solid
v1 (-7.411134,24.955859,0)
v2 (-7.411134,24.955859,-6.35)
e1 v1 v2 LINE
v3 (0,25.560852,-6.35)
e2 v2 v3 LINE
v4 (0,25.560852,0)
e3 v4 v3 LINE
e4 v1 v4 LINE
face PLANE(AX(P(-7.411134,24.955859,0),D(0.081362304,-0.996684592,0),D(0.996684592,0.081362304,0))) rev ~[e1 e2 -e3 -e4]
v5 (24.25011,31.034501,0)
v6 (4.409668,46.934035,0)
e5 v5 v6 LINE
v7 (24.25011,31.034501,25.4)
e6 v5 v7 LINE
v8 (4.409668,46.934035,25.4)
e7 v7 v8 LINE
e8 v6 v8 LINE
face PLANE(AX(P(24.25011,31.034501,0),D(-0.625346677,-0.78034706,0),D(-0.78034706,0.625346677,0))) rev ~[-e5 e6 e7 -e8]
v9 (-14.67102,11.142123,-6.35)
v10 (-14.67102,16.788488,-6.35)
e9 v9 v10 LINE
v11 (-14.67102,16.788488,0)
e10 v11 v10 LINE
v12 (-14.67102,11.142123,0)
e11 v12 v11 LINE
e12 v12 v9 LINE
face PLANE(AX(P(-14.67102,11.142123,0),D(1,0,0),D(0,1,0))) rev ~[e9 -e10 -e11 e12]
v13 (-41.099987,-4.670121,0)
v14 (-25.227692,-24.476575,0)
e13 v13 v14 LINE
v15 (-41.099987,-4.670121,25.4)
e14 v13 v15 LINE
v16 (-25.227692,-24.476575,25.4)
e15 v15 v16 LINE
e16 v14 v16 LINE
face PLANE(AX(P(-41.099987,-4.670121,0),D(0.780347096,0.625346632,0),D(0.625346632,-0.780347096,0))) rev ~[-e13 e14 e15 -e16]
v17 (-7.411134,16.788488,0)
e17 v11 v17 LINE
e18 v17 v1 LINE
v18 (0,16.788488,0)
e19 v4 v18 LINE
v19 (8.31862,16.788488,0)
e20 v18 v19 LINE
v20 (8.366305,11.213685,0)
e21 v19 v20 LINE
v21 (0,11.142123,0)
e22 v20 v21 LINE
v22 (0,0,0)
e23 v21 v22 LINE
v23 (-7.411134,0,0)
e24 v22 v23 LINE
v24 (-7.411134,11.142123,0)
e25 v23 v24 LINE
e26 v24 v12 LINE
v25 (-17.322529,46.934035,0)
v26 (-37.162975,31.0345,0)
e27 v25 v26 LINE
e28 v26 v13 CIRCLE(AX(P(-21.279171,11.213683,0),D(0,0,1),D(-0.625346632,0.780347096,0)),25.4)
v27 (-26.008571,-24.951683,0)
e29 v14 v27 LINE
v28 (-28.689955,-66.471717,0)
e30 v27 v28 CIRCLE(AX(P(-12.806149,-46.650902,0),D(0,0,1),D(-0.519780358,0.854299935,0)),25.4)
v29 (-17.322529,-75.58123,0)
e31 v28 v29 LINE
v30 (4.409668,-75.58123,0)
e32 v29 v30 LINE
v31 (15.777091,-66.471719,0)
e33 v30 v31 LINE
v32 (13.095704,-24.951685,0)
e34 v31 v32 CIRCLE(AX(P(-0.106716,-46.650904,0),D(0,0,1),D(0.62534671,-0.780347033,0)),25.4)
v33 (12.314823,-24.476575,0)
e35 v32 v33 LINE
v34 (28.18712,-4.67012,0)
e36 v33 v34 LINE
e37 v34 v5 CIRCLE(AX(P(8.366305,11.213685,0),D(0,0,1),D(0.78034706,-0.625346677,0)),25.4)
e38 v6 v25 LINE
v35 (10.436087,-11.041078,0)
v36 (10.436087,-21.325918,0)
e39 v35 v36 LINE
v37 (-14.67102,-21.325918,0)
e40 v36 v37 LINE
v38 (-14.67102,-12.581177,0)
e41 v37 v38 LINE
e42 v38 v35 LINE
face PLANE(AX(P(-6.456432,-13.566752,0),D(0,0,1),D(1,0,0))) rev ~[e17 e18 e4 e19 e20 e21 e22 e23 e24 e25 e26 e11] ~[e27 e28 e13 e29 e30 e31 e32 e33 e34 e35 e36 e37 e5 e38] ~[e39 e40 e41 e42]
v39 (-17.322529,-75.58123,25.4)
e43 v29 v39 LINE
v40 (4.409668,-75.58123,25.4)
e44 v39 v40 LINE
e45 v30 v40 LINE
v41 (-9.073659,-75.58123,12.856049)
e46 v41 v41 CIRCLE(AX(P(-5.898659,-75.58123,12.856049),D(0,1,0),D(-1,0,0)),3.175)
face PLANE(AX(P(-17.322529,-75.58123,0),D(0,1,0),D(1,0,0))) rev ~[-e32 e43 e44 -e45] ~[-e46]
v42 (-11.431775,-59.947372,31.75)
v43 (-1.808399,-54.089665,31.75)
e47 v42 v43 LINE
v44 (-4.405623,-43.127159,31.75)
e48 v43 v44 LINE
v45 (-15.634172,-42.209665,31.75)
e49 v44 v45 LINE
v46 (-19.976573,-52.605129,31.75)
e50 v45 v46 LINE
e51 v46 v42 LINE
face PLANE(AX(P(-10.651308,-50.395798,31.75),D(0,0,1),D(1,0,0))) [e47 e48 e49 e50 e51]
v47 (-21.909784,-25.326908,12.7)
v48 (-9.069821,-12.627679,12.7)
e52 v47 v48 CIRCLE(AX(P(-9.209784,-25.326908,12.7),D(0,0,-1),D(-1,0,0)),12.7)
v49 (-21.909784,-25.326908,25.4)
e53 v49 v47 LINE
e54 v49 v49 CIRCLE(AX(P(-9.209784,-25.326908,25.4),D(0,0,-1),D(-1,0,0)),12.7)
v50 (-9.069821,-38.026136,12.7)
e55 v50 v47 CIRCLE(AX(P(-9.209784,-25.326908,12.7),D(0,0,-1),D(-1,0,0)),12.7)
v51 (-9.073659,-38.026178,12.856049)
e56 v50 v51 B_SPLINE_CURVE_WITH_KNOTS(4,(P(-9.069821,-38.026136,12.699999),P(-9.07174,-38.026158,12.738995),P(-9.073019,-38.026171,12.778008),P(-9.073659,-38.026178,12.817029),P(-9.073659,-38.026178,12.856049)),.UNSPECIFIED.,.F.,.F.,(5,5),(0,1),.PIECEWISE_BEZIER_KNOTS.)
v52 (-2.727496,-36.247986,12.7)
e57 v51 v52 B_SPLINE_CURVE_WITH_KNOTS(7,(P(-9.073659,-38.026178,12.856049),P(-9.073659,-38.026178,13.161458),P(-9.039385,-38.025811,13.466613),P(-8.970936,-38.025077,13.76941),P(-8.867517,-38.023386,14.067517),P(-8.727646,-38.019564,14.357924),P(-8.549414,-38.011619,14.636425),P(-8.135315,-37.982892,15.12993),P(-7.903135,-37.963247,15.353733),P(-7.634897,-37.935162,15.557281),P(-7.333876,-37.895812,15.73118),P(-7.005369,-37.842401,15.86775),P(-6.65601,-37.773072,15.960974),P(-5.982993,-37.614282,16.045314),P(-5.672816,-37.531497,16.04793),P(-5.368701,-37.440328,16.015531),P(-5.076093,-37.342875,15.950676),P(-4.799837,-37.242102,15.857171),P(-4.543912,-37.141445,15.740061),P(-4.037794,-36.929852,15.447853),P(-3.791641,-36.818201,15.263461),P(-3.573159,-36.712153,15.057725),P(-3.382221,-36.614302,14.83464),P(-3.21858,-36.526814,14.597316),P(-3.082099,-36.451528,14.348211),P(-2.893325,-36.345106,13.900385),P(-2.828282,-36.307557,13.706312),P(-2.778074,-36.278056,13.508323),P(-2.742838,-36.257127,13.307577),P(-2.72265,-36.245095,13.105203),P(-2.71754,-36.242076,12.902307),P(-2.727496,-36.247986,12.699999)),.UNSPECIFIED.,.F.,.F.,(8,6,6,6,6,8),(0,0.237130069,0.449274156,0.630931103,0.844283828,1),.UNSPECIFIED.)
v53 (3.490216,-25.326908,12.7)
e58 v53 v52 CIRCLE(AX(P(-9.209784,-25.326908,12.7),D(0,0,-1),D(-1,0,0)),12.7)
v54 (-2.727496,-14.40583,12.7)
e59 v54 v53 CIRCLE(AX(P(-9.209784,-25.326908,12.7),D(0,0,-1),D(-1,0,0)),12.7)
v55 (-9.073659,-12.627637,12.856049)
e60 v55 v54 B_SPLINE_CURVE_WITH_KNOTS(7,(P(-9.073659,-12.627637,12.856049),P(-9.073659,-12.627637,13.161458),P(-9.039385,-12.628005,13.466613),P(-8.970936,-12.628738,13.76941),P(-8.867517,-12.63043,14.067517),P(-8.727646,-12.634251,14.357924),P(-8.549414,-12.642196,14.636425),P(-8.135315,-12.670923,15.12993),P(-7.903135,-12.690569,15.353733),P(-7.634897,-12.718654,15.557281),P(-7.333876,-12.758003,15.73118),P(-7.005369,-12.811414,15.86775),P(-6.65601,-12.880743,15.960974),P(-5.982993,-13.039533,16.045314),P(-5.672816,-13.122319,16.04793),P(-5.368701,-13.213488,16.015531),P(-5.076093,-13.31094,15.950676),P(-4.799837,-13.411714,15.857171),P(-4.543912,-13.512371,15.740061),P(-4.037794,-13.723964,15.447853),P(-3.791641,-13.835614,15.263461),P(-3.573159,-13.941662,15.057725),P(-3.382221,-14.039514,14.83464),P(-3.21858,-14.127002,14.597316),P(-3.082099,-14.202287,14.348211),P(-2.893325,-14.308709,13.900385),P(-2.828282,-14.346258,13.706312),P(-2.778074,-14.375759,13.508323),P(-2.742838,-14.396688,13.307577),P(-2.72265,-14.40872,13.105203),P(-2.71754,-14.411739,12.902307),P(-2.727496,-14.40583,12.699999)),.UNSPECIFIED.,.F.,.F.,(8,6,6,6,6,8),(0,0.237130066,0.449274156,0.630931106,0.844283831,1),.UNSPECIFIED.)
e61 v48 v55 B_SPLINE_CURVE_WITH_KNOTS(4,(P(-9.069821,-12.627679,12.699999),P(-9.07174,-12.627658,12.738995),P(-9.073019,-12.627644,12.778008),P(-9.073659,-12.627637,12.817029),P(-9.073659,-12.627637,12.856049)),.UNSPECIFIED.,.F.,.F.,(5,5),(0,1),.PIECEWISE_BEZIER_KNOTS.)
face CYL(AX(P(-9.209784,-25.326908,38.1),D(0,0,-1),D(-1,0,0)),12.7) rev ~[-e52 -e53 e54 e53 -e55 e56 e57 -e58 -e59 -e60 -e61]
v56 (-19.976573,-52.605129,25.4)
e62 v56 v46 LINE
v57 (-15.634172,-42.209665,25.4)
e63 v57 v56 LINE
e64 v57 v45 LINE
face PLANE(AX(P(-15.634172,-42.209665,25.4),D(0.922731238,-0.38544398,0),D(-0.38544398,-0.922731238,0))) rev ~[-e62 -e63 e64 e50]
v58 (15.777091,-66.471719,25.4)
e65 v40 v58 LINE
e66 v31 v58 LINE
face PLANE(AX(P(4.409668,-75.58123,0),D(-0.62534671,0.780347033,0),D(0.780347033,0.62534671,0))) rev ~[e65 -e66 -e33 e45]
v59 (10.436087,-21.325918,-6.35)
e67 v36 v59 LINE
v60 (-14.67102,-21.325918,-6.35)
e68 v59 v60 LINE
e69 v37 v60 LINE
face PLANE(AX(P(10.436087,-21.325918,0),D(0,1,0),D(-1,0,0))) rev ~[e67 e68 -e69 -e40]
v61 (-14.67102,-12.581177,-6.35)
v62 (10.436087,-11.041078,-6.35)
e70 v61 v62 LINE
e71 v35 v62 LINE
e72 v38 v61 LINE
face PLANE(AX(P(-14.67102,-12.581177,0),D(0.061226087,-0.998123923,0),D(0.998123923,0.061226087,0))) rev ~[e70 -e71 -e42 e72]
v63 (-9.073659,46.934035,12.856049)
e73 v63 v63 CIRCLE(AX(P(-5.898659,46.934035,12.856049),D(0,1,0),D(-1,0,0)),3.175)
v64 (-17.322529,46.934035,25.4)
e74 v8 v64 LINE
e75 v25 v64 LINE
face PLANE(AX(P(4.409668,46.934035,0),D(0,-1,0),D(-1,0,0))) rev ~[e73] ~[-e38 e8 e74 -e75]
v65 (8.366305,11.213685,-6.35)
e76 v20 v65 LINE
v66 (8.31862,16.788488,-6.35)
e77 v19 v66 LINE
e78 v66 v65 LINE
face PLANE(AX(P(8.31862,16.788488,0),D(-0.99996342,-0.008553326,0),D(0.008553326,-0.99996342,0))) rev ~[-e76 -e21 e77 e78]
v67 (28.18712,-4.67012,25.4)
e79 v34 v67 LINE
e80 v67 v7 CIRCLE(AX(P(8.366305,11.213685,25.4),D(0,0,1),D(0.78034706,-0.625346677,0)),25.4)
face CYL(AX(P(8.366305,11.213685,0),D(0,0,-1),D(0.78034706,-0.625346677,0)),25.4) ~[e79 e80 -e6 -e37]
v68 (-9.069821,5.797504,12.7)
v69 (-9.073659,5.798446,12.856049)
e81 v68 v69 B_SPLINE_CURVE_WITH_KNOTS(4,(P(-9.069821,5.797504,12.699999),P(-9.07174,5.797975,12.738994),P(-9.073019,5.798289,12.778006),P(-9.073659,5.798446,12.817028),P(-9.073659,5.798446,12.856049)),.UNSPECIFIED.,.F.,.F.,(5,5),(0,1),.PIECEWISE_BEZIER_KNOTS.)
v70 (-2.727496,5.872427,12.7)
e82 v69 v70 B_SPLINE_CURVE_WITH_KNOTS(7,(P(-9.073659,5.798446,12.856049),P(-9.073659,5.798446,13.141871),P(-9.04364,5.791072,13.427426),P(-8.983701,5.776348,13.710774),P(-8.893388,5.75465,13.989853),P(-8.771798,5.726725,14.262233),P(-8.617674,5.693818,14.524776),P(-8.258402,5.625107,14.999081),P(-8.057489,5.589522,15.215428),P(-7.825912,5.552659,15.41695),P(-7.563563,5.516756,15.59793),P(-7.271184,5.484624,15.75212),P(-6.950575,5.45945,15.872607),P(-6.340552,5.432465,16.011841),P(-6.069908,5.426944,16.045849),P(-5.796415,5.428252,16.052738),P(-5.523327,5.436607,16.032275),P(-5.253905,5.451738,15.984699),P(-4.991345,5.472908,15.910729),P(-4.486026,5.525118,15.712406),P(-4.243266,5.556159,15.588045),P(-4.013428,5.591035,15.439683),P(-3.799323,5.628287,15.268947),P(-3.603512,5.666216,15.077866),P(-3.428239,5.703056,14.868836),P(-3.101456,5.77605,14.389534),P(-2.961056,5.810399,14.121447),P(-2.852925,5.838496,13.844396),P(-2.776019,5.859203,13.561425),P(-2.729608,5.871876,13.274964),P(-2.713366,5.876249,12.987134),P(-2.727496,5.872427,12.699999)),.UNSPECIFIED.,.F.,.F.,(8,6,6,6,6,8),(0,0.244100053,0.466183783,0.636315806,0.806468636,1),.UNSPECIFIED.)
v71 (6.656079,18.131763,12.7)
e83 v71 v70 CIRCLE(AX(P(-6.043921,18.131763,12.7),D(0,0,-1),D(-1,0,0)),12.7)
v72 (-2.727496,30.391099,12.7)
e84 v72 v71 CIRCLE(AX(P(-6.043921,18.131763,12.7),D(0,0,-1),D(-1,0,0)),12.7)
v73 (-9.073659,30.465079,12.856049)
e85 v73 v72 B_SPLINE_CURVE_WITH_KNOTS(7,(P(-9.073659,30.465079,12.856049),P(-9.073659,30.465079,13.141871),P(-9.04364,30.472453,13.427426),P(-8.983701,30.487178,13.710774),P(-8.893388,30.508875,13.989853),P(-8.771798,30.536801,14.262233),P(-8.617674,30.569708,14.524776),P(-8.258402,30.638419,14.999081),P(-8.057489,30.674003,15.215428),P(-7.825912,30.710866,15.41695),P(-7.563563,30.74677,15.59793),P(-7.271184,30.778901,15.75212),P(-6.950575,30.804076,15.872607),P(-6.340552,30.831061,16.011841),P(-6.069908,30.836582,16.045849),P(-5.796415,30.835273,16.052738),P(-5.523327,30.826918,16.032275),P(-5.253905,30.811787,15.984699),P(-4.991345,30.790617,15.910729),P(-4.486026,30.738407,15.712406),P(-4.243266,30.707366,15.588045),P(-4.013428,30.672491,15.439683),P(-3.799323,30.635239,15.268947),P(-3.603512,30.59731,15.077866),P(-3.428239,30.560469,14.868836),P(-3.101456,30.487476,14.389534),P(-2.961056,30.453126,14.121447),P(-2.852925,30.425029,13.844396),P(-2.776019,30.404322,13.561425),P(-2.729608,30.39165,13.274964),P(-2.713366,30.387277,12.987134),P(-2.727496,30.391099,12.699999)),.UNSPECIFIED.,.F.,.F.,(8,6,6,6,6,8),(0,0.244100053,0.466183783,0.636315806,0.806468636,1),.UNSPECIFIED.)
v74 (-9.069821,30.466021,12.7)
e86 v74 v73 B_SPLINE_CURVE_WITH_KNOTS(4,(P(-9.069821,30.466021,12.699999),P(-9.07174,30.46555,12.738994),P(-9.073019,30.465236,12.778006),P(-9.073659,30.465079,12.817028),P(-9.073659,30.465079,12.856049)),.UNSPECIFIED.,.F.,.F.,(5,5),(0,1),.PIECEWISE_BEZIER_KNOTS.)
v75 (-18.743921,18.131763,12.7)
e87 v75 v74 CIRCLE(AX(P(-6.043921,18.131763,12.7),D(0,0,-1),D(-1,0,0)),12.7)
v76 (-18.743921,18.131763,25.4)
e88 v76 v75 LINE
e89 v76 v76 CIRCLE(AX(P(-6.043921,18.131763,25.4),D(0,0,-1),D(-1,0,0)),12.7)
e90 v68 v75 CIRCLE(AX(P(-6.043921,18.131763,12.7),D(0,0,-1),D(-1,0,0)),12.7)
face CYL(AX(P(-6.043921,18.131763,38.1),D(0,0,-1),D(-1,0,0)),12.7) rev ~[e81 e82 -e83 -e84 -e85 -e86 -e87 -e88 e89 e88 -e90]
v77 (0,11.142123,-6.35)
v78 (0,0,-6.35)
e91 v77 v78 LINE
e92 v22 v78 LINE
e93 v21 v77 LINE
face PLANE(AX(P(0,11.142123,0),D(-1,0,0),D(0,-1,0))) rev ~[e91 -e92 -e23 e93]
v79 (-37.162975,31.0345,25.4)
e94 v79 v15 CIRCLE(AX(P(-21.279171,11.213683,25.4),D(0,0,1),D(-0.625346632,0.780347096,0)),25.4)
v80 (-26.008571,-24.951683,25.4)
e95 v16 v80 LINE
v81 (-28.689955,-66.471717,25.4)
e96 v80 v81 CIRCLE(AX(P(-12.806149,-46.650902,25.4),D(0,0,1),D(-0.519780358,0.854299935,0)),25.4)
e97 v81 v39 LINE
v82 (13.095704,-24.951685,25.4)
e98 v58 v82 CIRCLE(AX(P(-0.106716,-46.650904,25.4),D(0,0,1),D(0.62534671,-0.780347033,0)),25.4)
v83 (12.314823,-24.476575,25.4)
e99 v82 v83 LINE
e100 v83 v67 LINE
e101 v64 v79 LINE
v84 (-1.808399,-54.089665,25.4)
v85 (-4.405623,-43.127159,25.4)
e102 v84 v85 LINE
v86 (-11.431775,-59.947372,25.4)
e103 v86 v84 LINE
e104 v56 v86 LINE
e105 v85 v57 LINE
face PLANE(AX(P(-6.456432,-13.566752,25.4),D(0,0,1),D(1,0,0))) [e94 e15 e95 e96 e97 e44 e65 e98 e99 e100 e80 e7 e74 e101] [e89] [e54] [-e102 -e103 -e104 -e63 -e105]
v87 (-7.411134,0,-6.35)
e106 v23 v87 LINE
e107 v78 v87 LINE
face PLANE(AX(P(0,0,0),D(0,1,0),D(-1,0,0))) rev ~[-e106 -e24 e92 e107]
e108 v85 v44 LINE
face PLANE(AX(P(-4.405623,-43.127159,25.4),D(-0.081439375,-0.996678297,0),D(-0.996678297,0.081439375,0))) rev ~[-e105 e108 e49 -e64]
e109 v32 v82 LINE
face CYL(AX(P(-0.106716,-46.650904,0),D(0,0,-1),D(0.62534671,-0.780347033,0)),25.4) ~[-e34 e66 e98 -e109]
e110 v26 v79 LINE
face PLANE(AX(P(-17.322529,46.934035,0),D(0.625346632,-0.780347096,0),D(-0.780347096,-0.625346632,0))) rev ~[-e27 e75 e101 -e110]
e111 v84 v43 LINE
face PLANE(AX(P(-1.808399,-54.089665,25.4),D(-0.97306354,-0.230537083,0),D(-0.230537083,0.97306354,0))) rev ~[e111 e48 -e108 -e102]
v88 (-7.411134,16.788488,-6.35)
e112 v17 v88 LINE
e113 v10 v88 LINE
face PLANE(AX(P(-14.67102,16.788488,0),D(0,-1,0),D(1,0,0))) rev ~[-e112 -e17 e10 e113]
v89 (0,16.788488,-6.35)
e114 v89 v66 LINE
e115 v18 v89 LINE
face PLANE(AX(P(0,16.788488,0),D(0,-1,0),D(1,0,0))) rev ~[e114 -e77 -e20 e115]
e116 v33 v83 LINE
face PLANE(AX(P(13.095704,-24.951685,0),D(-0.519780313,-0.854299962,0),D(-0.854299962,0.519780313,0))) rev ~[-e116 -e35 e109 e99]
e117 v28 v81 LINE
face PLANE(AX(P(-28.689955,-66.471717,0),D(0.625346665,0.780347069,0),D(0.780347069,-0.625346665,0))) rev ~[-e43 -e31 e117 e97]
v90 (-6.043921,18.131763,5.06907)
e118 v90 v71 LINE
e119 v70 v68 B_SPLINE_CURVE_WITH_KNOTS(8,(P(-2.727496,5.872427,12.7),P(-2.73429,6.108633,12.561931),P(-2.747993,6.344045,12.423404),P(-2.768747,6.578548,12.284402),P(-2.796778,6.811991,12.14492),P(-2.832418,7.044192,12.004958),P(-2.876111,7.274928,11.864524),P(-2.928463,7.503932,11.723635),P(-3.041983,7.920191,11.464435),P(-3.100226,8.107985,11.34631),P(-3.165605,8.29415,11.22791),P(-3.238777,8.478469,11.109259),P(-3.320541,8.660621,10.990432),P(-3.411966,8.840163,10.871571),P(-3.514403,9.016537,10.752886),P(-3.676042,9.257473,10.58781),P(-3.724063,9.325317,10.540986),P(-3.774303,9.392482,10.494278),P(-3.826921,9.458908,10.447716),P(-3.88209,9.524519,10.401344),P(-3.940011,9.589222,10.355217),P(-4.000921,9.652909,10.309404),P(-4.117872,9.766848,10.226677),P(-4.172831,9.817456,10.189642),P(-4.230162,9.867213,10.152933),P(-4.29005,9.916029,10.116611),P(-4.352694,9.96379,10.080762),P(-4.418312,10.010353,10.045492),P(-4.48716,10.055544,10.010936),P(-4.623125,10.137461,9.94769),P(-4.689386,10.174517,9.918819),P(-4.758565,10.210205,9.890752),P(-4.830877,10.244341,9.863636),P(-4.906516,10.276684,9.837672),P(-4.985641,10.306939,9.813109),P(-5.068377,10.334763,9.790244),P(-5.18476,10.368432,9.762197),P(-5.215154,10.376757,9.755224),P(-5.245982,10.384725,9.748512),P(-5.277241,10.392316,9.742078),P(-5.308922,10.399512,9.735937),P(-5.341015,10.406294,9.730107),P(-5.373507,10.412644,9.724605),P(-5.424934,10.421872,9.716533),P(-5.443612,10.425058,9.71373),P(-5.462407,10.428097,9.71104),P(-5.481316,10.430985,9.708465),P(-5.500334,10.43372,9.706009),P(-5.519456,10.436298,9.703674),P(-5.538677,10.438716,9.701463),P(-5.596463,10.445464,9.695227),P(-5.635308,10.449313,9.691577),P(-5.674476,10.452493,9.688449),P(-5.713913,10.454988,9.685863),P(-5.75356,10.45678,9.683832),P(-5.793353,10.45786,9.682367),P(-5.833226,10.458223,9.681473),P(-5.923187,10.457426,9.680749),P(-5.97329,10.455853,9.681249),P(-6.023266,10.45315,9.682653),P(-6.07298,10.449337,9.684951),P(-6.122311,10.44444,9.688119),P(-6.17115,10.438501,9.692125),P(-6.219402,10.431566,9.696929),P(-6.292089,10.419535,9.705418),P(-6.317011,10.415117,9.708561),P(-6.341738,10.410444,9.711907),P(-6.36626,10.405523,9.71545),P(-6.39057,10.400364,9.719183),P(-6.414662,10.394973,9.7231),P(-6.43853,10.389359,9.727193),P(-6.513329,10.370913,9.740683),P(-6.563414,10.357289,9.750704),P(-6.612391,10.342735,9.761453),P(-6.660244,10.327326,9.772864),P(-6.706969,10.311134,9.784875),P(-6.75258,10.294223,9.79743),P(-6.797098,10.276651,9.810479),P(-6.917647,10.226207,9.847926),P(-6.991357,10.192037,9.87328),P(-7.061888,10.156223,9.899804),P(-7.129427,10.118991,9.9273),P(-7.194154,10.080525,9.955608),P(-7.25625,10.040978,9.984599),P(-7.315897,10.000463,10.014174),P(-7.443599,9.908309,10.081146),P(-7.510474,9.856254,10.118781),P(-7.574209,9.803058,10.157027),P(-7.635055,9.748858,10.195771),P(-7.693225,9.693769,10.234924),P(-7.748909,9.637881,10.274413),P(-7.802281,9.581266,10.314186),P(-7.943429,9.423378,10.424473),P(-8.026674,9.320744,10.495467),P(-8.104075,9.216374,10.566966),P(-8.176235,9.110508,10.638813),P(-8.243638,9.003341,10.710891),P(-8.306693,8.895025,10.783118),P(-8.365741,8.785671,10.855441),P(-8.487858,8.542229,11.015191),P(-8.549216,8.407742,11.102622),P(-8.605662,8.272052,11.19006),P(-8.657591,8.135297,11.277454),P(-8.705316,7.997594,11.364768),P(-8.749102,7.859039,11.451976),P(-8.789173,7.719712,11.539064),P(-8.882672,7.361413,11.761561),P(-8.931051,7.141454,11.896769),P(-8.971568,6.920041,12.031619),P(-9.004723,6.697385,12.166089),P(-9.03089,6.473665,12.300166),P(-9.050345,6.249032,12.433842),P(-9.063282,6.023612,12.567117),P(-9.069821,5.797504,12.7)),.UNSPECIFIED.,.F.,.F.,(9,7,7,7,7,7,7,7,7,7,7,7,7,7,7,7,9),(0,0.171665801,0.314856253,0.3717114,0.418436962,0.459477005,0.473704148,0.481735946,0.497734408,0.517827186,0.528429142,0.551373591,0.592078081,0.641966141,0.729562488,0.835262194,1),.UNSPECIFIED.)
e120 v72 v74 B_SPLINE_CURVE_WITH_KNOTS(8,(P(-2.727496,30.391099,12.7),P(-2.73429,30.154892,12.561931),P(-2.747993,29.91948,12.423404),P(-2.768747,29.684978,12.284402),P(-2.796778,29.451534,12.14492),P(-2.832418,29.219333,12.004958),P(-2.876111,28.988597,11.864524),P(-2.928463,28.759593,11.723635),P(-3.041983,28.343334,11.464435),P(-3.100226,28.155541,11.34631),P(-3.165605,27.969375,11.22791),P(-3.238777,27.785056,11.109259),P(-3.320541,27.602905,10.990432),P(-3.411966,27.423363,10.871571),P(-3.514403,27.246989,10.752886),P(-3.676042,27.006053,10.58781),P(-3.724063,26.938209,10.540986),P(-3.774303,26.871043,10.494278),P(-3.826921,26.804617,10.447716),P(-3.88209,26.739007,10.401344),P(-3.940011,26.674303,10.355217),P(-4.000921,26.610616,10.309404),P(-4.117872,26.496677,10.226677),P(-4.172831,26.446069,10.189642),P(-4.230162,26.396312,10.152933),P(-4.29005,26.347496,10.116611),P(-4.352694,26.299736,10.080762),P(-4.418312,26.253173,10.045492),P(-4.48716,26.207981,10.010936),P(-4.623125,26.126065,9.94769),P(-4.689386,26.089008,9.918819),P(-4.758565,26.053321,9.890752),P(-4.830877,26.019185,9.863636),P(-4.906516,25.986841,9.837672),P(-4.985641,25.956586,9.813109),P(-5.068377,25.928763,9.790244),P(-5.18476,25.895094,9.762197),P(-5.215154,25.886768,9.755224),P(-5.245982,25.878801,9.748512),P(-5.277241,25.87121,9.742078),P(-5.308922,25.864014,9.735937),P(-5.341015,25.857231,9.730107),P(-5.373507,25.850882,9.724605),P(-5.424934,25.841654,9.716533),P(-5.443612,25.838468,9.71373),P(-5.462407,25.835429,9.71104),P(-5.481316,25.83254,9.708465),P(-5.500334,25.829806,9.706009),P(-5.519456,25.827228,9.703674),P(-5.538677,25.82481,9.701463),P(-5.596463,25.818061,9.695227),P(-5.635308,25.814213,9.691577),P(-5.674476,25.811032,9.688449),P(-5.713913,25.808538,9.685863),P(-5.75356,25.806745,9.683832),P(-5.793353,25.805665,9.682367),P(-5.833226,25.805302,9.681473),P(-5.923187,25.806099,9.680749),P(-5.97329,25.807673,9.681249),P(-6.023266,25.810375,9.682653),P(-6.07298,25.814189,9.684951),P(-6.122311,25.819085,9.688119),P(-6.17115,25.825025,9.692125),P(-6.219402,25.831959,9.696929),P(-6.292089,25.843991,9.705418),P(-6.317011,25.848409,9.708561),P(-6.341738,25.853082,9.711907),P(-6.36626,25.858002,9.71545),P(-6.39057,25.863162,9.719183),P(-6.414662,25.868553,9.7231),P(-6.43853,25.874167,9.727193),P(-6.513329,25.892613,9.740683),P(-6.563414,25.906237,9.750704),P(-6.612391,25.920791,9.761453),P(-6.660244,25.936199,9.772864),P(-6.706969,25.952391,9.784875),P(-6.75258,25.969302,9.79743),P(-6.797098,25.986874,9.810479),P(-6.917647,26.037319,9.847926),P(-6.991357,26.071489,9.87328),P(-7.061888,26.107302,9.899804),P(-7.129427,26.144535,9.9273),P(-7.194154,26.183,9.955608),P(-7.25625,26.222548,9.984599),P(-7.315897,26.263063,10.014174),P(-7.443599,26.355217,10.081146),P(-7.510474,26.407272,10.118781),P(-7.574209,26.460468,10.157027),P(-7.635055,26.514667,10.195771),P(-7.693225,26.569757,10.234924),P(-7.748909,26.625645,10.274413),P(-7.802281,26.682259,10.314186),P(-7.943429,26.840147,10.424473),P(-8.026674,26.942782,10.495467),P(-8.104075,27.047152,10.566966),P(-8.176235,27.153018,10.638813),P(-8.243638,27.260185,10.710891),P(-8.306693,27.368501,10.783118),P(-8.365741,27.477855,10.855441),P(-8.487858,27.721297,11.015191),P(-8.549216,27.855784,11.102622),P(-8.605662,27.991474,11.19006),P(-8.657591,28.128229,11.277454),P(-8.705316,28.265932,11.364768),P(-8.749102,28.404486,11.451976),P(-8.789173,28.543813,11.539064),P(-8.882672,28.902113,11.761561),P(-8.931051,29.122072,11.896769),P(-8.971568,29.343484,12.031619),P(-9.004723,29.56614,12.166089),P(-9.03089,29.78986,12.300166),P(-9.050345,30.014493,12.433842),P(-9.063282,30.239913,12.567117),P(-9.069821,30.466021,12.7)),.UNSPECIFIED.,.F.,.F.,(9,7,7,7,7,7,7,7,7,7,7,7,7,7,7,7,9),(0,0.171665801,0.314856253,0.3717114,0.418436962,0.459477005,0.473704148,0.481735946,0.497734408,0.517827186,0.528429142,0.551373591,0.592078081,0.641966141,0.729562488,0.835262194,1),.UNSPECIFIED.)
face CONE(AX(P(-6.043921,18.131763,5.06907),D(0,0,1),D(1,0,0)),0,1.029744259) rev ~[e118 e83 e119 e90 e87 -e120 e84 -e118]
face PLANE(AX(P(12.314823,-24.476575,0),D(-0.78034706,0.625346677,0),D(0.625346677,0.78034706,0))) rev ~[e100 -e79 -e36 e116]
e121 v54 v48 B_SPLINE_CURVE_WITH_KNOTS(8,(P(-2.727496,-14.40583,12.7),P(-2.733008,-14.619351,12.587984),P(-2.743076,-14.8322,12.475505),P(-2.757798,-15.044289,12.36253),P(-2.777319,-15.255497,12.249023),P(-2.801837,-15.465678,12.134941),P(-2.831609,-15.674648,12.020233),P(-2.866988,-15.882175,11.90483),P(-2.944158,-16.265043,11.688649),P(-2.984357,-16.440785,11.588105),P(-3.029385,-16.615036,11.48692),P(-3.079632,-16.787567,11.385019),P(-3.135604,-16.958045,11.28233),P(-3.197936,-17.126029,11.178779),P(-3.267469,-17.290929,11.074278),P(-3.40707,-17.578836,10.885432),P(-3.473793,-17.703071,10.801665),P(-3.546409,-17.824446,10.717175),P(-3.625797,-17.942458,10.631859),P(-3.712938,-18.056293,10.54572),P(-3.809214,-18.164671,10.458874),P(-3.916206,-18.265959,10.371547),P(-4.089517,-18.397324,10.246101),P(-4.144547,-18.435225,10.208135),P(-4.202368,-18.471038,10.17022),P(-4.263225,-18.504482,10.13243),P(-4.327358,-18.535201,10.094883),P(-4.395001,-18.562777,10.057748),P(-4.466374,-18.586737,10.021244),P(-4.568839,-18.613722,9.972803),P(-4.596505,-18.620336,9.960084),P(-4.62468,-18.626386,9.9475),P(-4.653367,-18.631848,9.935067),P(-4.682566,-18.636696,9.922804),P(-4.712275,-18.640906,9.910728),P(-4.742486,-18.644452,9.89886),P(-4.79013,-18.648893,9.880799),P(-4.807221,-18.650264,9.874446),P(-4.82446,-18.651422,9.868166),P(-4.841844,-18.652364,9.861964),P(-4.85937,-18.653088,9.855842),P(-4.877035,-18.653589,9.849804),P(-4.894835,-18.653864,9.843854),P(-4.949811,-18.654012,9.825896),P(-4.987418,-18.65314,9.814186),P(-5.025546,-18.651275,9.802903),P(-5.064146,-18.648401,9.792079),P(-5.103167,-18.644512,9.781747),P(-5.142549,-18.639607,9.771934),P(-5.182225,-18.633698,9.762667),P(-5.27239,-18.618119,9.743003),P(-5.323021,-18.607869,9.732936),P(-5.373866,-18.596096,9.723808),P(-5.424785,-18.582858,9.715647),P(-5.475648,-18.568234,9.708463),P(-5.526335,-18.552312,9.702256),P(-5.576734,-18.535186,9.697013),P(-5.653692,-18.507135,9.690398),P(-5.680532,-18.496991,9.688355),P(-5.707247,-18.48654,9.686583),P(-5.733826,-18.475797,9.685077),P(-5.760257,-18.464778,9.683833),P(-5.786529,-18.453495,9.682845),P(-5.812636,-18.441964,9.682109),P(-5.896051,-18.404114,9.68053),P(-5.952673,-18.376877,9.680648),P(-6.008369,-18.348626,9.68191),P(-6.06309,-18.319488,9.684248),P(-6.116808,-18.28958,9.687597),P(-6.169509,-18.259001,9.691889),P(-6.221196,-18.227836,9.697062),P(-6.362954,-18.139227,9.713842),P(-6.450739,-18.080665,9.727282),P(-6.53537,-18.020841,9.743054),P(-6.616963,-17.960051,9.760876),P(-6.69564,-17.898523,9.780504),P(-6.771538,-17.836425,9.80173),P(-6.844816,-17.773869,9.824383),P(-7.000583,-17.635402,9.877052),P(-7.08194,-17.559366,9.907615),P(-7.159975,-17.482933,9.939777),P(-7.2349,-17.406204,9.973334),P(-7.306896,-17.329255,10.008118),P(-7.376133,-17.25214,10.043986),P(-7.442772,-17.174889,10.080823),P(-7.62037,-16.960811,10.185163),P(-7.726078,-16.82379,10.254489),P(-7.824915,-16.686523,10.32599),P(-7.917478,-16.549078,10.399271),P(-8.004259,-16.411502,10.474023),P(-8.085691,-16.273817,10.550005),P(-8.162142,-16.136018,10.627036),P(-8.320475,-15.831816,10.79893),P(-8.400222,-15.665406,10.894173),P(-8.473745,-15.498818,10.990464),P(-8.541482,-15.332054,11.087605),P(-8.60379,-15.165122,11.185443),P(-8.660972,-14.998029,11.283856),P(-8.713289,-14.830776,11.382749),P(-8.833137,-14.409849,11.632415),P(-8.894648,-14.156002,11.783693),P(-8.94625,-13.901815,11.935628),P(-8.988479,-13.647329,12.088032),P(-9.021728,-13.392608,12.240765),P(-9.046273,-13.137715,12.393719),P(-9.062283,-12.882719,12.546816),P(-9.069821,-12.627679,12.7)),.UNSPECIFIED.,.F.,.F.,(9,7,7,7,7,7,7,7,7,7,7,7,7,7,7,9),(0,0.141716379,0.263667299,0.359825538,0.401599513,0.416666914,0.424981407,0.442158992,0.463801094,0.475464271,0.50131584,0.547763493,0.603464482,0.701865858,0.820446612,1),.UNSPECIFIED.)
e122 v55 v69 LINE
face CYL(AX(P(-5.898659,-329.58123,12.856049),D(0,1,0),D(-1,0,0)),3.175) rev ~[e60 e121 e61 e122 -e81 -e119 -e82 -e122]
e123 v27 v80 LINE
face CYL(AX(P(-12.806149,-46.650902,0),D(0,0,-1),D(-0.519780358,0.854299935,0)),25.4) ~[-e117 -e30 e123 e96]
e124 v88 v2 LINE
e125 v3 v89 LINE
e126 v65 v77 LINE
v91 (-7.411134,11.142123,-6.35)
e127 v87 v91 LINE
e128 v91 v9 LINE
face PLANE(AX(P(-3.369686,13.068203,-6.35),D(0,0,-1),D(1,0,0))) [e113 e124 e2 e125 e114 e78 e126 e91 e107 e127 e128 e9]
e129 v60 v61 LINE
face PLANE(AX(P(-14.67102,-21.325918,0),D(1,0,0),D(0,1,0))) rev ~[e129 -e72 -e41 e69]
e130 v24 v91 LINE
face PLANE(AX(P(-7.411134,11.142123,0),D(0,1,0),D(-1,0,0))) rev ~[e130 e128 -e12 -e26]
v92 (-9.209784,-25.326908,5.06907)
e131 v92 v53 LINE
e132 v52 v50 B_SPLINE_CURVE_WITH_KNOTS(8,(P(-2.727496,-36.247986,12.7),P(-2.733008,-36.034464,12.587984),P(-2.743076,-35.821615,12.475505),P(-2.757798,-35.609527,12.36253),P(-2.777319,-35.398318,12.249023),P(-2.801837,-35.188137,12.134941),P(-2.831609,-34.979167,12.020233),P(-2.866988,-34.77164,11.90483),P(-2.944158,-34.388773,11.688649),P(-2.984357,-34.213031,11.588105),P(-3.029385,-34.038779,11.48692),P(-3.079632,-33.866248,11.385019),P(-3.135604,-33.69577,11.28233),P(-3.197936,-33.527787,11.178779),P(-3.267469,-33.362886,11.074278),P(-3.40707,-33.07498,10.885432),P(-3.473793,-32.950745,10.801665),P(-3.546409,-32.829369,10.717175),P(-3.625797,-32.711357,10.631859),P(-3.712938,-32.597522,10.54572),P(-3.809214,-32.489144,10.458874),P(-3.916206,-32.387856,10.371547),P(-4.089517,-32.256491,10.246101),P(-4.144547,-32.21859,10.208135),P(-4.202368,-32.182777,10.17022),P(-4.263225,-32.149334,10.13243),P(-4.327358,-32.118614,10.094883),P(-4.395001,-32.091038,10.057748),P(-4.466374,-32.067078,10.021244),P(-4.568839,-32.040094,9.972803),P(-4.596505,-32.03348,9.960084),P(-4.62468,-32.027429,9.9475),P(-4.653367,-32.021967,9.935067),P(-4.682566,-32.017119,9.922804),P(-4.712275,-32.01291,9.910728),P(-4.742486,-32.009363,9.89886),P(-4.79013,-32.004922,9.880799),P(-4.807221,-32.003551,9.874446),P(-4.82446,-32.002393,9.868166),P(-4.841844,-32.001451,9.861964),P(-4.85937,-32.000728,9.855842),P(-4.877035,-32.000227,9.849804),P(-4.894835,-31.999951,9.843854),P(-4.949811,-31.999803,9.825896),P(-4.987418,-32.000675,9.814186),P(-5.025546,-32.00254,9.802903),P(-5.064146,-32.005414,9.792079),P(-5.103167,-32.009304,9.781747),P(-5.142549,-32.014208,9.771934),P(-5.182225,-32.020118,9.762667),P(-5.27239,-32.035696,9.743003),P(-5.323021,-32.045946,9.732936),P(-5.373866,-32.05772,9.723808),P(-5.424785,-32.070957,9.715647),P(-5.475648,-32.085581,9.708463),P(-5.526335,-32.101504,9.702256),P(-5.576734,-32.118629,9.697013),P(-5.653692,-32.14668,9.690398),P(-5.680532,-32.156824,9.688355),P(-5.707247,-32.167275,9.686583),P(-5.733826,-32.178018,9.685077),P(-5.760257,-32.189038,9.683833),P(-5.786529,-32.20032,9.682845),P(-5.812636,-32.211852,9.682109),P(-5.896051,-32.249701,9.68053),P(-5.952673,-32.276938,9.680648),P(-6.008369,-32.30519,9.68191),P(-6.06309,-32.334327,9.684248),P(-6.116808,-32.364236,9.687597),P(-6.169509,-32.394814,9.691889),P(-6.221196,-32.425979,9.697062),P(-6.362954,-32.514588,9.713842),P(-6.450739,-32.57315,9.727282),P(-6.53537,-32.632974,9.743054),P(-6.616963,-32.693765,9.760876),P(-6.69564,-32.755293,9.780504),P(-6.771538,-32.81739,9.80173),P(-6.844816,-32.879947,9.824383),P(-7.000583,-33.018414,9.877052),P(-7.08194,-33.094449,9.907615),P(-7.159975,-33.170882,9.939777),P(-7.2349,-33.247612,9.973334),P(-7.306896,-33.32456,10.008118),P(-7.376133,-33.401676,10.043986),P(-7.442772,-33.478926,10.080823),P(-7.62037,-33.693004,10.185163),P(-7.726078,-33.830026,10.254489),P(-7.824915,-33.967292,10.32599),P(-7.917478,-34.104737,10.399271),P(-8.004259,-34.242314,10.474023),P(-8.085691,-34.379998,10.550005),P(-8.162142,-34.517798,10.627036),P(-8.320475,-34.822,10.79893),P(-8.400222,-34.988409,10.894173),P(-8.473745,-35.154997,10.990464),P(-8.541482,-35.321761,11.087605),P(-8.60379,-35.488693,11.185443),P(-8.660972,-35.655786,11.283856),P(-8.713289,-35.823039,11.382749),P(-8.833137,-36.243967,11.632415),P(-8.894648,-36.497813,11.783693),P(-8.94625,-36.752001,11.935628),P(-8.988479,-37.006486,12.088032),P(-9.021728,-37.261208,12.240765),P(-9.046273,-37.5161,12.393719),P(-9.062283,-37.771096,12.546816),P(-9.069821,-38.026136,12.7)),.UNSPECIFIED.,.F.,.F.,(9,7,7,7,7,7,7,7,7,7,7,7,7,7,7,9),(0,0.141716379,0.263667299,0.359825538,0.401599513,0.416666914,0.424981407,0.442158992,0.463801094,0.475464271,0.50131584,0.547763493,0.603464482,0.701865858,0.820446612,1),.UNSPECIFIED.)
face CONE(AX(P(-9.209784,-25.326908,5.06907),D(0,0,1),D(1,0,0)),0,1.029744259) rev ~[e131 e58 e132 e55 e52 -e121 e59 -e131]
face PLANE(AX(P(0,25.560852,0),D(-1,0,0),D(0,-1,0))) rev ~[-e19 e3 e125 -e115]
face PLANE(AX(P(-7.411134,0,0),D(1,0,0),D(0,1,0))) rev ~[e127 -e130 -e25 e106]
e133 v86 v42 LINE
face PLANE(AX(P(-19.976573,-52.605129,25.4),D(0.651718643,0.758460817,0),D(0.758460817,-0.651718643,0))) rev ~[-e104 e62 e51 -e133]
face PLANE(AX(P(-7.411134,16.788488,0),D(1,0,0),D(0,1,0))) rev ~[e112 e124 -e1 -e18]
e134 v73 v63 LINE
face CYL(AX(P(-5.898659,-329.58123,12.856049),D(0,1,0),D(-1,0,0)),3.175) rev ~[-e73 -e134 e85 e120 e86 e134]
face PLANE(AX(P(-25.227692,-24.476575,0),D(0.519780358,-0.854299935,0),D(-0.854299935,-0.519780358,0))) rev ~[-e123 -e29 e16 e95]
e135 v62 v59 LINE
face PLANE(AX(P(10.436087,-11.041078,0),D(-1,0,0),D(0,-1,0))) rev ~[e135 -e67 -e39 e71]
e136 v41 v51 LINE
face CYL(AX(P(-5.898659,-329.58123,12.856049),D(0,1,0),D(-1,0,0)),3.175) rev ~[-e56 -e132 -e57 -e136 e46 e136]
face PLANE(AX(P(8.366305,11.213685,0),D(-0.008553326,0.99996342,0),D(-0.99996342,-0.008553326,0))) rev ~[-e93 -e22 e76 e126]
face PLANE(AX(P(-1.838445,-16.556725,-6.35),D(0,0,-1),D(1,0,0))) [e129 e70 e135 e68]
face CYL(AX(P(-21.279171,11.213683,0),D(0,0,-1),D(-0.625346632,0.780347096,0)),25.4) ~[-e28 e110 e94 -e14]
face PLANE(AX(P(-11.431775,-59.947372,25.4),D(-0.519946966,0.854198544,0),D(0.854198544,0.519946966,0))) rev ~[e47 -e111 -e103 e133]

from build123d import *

# Parameters (mm, degrees)
F1_DEPTH  = 25.4
F3_D      = 25.4
F3_DEPTH  = 12.7
F3_TIP    = 7.6309298617
F5_DEPTH  = 6.35
F7_D      = 6.35
F7_DEPTH  = 254
F7_TIP    = 1.9077324654
F9_DEPTH  = 6.35
F11_DEPTH = 6.35


with BuildPart() as f1:
    # F0 (on Top) → F1 (new body)
    with BuildSketch(Plane.XY):
        with BuildLine():
            Line((4.4096680358, 46.9340346754), (-17.3225291073, 46.9340346754))
            Line((-17.3225291073, 46.9340346754), (-37.1629750587, 31.0344995595))
            ThreePointArc((-37.1629750587, 31.0344995595), (-46.5261500129, 13.9975710547), (-41.0999868401, -4.6701211252))
            Line((-41.0999868401, -4.6701211252), (-25.2276921751, -24.4765747183))
            Line((-25.2276921751, -24.4765747183), (-26.0085705919, -24.951683338))
            ThreePointArc((-26.0085705919, -24.951683338), (-38.1533474778, -45.0139671836), (-28.6899548002, -66.4717172459))
            Line((-28.6899548002, -66.4717172459), (-17.3225291073, -75.5812302232))
            Line((-17.3225291073, -75.5812302232), (4.4096680358, -75.5812302232))
            Line((4.4096680358, -75.5812302232), (15.7770905265, -66.4717187425))
            ThreePointArc((15.7770905265, -66.4717187425), (25.2404819789, -45.0139682034), (13.0957040513, -24.9516850564))
            Line((13.0957040513, -24.9516850564), (12.3148227185, -24.4765747183))
            Line((12.3148227185, -24.4765747183), (28.1871199764, -4.6701202151))
            ThreePointArc((28.1871199764, -4.6701202151), (33.6132842187, 13.9975716539), (24.2501102406, 31.0345006951))
            Line((24.2501102406, 31.0345006951), (4.4096680358, 46.9340346754))
        make_face()
    extrude(amount=F1_DEPTH)

    # F3
    with Locations(Plane.XY.offset(25.4)):
        with Locations((-6.0439212248, 18.131762743), (-9.2097837478, -25.3269076347)):
            Hole(F3_D / 2, depth=F3_DEPTH)
            with Locations((0, 0, -(F3_DEPTH + F3_TIP / 2))):  # 118° drill point
                Cone(0, F3_D / 2, F3_TIP, mode=Mode.SUBTRACT)

    # F4 (on face) → F5 (join)
    with BuildSketch(Plane.XY.offset(25.4)):
        Polygon((-11.431774831, -59.9473722219), (-1.8083986281, -54.0896646738), (-4.4056227723, -43.1271588469), (-15.6341717727, -42.2096651921), (-19.9765725551, -52.6051287559), align=None)
    extrude(amount=F5_DEPTH)

    # F7
    with Locations(Plane.XZ.offset(75.5812302232)):
        with Locations((-5.8986586519, 12.8560494632)):
            Hole(F7_D / 2, depth=F7_DEPTH)
            with Locations((0, 0, -(F7_DEPTH + F7_TIP / 2))):  # 118° drill point
                Cone(0, F7_D / 2, F7_TIP, mode=Mode.SUBTRACT)

    # F8 (on face) → F9 (join)
    with BuildSketch(Plane(origin=(0, 0, 0), x_dir=(1, 0, 0), z_dir=(0, 0, -1))):
        Polygon((-7.4111339636, -24.9558594078), (0, -25.5608521402), (0, -16.788488254), (8.3186198026, -16.788488254), (8.3663046534, -11.2136853721), (0, -11.1421230232), (0, 0), (-7.4111339636, 0), (-7.4111339636, -11.1421230232), (-14.6710202098, -11.1421230232), (-14.6710202098, -16.788488254), (-7.4111339636, -16.788488254), align=None)
    extrude(amount=F9_DEPTH)

    # F10 (on face) → F11 (join)
    with BuildSketch(Plane(origin=(0, 0, 0), x_dir=(1, 0, 0), z_dir=(0, 0, -1))):
        Polygon((-14.6710202098, 12.5811770558), (10.4360869154, 11.0410777852), (10.4360869154, 21.3259179145), (-14.6710202098, 21.3259179145), align=None)
    extrude(amount=F11_DEPTH)


solid = f1.part
